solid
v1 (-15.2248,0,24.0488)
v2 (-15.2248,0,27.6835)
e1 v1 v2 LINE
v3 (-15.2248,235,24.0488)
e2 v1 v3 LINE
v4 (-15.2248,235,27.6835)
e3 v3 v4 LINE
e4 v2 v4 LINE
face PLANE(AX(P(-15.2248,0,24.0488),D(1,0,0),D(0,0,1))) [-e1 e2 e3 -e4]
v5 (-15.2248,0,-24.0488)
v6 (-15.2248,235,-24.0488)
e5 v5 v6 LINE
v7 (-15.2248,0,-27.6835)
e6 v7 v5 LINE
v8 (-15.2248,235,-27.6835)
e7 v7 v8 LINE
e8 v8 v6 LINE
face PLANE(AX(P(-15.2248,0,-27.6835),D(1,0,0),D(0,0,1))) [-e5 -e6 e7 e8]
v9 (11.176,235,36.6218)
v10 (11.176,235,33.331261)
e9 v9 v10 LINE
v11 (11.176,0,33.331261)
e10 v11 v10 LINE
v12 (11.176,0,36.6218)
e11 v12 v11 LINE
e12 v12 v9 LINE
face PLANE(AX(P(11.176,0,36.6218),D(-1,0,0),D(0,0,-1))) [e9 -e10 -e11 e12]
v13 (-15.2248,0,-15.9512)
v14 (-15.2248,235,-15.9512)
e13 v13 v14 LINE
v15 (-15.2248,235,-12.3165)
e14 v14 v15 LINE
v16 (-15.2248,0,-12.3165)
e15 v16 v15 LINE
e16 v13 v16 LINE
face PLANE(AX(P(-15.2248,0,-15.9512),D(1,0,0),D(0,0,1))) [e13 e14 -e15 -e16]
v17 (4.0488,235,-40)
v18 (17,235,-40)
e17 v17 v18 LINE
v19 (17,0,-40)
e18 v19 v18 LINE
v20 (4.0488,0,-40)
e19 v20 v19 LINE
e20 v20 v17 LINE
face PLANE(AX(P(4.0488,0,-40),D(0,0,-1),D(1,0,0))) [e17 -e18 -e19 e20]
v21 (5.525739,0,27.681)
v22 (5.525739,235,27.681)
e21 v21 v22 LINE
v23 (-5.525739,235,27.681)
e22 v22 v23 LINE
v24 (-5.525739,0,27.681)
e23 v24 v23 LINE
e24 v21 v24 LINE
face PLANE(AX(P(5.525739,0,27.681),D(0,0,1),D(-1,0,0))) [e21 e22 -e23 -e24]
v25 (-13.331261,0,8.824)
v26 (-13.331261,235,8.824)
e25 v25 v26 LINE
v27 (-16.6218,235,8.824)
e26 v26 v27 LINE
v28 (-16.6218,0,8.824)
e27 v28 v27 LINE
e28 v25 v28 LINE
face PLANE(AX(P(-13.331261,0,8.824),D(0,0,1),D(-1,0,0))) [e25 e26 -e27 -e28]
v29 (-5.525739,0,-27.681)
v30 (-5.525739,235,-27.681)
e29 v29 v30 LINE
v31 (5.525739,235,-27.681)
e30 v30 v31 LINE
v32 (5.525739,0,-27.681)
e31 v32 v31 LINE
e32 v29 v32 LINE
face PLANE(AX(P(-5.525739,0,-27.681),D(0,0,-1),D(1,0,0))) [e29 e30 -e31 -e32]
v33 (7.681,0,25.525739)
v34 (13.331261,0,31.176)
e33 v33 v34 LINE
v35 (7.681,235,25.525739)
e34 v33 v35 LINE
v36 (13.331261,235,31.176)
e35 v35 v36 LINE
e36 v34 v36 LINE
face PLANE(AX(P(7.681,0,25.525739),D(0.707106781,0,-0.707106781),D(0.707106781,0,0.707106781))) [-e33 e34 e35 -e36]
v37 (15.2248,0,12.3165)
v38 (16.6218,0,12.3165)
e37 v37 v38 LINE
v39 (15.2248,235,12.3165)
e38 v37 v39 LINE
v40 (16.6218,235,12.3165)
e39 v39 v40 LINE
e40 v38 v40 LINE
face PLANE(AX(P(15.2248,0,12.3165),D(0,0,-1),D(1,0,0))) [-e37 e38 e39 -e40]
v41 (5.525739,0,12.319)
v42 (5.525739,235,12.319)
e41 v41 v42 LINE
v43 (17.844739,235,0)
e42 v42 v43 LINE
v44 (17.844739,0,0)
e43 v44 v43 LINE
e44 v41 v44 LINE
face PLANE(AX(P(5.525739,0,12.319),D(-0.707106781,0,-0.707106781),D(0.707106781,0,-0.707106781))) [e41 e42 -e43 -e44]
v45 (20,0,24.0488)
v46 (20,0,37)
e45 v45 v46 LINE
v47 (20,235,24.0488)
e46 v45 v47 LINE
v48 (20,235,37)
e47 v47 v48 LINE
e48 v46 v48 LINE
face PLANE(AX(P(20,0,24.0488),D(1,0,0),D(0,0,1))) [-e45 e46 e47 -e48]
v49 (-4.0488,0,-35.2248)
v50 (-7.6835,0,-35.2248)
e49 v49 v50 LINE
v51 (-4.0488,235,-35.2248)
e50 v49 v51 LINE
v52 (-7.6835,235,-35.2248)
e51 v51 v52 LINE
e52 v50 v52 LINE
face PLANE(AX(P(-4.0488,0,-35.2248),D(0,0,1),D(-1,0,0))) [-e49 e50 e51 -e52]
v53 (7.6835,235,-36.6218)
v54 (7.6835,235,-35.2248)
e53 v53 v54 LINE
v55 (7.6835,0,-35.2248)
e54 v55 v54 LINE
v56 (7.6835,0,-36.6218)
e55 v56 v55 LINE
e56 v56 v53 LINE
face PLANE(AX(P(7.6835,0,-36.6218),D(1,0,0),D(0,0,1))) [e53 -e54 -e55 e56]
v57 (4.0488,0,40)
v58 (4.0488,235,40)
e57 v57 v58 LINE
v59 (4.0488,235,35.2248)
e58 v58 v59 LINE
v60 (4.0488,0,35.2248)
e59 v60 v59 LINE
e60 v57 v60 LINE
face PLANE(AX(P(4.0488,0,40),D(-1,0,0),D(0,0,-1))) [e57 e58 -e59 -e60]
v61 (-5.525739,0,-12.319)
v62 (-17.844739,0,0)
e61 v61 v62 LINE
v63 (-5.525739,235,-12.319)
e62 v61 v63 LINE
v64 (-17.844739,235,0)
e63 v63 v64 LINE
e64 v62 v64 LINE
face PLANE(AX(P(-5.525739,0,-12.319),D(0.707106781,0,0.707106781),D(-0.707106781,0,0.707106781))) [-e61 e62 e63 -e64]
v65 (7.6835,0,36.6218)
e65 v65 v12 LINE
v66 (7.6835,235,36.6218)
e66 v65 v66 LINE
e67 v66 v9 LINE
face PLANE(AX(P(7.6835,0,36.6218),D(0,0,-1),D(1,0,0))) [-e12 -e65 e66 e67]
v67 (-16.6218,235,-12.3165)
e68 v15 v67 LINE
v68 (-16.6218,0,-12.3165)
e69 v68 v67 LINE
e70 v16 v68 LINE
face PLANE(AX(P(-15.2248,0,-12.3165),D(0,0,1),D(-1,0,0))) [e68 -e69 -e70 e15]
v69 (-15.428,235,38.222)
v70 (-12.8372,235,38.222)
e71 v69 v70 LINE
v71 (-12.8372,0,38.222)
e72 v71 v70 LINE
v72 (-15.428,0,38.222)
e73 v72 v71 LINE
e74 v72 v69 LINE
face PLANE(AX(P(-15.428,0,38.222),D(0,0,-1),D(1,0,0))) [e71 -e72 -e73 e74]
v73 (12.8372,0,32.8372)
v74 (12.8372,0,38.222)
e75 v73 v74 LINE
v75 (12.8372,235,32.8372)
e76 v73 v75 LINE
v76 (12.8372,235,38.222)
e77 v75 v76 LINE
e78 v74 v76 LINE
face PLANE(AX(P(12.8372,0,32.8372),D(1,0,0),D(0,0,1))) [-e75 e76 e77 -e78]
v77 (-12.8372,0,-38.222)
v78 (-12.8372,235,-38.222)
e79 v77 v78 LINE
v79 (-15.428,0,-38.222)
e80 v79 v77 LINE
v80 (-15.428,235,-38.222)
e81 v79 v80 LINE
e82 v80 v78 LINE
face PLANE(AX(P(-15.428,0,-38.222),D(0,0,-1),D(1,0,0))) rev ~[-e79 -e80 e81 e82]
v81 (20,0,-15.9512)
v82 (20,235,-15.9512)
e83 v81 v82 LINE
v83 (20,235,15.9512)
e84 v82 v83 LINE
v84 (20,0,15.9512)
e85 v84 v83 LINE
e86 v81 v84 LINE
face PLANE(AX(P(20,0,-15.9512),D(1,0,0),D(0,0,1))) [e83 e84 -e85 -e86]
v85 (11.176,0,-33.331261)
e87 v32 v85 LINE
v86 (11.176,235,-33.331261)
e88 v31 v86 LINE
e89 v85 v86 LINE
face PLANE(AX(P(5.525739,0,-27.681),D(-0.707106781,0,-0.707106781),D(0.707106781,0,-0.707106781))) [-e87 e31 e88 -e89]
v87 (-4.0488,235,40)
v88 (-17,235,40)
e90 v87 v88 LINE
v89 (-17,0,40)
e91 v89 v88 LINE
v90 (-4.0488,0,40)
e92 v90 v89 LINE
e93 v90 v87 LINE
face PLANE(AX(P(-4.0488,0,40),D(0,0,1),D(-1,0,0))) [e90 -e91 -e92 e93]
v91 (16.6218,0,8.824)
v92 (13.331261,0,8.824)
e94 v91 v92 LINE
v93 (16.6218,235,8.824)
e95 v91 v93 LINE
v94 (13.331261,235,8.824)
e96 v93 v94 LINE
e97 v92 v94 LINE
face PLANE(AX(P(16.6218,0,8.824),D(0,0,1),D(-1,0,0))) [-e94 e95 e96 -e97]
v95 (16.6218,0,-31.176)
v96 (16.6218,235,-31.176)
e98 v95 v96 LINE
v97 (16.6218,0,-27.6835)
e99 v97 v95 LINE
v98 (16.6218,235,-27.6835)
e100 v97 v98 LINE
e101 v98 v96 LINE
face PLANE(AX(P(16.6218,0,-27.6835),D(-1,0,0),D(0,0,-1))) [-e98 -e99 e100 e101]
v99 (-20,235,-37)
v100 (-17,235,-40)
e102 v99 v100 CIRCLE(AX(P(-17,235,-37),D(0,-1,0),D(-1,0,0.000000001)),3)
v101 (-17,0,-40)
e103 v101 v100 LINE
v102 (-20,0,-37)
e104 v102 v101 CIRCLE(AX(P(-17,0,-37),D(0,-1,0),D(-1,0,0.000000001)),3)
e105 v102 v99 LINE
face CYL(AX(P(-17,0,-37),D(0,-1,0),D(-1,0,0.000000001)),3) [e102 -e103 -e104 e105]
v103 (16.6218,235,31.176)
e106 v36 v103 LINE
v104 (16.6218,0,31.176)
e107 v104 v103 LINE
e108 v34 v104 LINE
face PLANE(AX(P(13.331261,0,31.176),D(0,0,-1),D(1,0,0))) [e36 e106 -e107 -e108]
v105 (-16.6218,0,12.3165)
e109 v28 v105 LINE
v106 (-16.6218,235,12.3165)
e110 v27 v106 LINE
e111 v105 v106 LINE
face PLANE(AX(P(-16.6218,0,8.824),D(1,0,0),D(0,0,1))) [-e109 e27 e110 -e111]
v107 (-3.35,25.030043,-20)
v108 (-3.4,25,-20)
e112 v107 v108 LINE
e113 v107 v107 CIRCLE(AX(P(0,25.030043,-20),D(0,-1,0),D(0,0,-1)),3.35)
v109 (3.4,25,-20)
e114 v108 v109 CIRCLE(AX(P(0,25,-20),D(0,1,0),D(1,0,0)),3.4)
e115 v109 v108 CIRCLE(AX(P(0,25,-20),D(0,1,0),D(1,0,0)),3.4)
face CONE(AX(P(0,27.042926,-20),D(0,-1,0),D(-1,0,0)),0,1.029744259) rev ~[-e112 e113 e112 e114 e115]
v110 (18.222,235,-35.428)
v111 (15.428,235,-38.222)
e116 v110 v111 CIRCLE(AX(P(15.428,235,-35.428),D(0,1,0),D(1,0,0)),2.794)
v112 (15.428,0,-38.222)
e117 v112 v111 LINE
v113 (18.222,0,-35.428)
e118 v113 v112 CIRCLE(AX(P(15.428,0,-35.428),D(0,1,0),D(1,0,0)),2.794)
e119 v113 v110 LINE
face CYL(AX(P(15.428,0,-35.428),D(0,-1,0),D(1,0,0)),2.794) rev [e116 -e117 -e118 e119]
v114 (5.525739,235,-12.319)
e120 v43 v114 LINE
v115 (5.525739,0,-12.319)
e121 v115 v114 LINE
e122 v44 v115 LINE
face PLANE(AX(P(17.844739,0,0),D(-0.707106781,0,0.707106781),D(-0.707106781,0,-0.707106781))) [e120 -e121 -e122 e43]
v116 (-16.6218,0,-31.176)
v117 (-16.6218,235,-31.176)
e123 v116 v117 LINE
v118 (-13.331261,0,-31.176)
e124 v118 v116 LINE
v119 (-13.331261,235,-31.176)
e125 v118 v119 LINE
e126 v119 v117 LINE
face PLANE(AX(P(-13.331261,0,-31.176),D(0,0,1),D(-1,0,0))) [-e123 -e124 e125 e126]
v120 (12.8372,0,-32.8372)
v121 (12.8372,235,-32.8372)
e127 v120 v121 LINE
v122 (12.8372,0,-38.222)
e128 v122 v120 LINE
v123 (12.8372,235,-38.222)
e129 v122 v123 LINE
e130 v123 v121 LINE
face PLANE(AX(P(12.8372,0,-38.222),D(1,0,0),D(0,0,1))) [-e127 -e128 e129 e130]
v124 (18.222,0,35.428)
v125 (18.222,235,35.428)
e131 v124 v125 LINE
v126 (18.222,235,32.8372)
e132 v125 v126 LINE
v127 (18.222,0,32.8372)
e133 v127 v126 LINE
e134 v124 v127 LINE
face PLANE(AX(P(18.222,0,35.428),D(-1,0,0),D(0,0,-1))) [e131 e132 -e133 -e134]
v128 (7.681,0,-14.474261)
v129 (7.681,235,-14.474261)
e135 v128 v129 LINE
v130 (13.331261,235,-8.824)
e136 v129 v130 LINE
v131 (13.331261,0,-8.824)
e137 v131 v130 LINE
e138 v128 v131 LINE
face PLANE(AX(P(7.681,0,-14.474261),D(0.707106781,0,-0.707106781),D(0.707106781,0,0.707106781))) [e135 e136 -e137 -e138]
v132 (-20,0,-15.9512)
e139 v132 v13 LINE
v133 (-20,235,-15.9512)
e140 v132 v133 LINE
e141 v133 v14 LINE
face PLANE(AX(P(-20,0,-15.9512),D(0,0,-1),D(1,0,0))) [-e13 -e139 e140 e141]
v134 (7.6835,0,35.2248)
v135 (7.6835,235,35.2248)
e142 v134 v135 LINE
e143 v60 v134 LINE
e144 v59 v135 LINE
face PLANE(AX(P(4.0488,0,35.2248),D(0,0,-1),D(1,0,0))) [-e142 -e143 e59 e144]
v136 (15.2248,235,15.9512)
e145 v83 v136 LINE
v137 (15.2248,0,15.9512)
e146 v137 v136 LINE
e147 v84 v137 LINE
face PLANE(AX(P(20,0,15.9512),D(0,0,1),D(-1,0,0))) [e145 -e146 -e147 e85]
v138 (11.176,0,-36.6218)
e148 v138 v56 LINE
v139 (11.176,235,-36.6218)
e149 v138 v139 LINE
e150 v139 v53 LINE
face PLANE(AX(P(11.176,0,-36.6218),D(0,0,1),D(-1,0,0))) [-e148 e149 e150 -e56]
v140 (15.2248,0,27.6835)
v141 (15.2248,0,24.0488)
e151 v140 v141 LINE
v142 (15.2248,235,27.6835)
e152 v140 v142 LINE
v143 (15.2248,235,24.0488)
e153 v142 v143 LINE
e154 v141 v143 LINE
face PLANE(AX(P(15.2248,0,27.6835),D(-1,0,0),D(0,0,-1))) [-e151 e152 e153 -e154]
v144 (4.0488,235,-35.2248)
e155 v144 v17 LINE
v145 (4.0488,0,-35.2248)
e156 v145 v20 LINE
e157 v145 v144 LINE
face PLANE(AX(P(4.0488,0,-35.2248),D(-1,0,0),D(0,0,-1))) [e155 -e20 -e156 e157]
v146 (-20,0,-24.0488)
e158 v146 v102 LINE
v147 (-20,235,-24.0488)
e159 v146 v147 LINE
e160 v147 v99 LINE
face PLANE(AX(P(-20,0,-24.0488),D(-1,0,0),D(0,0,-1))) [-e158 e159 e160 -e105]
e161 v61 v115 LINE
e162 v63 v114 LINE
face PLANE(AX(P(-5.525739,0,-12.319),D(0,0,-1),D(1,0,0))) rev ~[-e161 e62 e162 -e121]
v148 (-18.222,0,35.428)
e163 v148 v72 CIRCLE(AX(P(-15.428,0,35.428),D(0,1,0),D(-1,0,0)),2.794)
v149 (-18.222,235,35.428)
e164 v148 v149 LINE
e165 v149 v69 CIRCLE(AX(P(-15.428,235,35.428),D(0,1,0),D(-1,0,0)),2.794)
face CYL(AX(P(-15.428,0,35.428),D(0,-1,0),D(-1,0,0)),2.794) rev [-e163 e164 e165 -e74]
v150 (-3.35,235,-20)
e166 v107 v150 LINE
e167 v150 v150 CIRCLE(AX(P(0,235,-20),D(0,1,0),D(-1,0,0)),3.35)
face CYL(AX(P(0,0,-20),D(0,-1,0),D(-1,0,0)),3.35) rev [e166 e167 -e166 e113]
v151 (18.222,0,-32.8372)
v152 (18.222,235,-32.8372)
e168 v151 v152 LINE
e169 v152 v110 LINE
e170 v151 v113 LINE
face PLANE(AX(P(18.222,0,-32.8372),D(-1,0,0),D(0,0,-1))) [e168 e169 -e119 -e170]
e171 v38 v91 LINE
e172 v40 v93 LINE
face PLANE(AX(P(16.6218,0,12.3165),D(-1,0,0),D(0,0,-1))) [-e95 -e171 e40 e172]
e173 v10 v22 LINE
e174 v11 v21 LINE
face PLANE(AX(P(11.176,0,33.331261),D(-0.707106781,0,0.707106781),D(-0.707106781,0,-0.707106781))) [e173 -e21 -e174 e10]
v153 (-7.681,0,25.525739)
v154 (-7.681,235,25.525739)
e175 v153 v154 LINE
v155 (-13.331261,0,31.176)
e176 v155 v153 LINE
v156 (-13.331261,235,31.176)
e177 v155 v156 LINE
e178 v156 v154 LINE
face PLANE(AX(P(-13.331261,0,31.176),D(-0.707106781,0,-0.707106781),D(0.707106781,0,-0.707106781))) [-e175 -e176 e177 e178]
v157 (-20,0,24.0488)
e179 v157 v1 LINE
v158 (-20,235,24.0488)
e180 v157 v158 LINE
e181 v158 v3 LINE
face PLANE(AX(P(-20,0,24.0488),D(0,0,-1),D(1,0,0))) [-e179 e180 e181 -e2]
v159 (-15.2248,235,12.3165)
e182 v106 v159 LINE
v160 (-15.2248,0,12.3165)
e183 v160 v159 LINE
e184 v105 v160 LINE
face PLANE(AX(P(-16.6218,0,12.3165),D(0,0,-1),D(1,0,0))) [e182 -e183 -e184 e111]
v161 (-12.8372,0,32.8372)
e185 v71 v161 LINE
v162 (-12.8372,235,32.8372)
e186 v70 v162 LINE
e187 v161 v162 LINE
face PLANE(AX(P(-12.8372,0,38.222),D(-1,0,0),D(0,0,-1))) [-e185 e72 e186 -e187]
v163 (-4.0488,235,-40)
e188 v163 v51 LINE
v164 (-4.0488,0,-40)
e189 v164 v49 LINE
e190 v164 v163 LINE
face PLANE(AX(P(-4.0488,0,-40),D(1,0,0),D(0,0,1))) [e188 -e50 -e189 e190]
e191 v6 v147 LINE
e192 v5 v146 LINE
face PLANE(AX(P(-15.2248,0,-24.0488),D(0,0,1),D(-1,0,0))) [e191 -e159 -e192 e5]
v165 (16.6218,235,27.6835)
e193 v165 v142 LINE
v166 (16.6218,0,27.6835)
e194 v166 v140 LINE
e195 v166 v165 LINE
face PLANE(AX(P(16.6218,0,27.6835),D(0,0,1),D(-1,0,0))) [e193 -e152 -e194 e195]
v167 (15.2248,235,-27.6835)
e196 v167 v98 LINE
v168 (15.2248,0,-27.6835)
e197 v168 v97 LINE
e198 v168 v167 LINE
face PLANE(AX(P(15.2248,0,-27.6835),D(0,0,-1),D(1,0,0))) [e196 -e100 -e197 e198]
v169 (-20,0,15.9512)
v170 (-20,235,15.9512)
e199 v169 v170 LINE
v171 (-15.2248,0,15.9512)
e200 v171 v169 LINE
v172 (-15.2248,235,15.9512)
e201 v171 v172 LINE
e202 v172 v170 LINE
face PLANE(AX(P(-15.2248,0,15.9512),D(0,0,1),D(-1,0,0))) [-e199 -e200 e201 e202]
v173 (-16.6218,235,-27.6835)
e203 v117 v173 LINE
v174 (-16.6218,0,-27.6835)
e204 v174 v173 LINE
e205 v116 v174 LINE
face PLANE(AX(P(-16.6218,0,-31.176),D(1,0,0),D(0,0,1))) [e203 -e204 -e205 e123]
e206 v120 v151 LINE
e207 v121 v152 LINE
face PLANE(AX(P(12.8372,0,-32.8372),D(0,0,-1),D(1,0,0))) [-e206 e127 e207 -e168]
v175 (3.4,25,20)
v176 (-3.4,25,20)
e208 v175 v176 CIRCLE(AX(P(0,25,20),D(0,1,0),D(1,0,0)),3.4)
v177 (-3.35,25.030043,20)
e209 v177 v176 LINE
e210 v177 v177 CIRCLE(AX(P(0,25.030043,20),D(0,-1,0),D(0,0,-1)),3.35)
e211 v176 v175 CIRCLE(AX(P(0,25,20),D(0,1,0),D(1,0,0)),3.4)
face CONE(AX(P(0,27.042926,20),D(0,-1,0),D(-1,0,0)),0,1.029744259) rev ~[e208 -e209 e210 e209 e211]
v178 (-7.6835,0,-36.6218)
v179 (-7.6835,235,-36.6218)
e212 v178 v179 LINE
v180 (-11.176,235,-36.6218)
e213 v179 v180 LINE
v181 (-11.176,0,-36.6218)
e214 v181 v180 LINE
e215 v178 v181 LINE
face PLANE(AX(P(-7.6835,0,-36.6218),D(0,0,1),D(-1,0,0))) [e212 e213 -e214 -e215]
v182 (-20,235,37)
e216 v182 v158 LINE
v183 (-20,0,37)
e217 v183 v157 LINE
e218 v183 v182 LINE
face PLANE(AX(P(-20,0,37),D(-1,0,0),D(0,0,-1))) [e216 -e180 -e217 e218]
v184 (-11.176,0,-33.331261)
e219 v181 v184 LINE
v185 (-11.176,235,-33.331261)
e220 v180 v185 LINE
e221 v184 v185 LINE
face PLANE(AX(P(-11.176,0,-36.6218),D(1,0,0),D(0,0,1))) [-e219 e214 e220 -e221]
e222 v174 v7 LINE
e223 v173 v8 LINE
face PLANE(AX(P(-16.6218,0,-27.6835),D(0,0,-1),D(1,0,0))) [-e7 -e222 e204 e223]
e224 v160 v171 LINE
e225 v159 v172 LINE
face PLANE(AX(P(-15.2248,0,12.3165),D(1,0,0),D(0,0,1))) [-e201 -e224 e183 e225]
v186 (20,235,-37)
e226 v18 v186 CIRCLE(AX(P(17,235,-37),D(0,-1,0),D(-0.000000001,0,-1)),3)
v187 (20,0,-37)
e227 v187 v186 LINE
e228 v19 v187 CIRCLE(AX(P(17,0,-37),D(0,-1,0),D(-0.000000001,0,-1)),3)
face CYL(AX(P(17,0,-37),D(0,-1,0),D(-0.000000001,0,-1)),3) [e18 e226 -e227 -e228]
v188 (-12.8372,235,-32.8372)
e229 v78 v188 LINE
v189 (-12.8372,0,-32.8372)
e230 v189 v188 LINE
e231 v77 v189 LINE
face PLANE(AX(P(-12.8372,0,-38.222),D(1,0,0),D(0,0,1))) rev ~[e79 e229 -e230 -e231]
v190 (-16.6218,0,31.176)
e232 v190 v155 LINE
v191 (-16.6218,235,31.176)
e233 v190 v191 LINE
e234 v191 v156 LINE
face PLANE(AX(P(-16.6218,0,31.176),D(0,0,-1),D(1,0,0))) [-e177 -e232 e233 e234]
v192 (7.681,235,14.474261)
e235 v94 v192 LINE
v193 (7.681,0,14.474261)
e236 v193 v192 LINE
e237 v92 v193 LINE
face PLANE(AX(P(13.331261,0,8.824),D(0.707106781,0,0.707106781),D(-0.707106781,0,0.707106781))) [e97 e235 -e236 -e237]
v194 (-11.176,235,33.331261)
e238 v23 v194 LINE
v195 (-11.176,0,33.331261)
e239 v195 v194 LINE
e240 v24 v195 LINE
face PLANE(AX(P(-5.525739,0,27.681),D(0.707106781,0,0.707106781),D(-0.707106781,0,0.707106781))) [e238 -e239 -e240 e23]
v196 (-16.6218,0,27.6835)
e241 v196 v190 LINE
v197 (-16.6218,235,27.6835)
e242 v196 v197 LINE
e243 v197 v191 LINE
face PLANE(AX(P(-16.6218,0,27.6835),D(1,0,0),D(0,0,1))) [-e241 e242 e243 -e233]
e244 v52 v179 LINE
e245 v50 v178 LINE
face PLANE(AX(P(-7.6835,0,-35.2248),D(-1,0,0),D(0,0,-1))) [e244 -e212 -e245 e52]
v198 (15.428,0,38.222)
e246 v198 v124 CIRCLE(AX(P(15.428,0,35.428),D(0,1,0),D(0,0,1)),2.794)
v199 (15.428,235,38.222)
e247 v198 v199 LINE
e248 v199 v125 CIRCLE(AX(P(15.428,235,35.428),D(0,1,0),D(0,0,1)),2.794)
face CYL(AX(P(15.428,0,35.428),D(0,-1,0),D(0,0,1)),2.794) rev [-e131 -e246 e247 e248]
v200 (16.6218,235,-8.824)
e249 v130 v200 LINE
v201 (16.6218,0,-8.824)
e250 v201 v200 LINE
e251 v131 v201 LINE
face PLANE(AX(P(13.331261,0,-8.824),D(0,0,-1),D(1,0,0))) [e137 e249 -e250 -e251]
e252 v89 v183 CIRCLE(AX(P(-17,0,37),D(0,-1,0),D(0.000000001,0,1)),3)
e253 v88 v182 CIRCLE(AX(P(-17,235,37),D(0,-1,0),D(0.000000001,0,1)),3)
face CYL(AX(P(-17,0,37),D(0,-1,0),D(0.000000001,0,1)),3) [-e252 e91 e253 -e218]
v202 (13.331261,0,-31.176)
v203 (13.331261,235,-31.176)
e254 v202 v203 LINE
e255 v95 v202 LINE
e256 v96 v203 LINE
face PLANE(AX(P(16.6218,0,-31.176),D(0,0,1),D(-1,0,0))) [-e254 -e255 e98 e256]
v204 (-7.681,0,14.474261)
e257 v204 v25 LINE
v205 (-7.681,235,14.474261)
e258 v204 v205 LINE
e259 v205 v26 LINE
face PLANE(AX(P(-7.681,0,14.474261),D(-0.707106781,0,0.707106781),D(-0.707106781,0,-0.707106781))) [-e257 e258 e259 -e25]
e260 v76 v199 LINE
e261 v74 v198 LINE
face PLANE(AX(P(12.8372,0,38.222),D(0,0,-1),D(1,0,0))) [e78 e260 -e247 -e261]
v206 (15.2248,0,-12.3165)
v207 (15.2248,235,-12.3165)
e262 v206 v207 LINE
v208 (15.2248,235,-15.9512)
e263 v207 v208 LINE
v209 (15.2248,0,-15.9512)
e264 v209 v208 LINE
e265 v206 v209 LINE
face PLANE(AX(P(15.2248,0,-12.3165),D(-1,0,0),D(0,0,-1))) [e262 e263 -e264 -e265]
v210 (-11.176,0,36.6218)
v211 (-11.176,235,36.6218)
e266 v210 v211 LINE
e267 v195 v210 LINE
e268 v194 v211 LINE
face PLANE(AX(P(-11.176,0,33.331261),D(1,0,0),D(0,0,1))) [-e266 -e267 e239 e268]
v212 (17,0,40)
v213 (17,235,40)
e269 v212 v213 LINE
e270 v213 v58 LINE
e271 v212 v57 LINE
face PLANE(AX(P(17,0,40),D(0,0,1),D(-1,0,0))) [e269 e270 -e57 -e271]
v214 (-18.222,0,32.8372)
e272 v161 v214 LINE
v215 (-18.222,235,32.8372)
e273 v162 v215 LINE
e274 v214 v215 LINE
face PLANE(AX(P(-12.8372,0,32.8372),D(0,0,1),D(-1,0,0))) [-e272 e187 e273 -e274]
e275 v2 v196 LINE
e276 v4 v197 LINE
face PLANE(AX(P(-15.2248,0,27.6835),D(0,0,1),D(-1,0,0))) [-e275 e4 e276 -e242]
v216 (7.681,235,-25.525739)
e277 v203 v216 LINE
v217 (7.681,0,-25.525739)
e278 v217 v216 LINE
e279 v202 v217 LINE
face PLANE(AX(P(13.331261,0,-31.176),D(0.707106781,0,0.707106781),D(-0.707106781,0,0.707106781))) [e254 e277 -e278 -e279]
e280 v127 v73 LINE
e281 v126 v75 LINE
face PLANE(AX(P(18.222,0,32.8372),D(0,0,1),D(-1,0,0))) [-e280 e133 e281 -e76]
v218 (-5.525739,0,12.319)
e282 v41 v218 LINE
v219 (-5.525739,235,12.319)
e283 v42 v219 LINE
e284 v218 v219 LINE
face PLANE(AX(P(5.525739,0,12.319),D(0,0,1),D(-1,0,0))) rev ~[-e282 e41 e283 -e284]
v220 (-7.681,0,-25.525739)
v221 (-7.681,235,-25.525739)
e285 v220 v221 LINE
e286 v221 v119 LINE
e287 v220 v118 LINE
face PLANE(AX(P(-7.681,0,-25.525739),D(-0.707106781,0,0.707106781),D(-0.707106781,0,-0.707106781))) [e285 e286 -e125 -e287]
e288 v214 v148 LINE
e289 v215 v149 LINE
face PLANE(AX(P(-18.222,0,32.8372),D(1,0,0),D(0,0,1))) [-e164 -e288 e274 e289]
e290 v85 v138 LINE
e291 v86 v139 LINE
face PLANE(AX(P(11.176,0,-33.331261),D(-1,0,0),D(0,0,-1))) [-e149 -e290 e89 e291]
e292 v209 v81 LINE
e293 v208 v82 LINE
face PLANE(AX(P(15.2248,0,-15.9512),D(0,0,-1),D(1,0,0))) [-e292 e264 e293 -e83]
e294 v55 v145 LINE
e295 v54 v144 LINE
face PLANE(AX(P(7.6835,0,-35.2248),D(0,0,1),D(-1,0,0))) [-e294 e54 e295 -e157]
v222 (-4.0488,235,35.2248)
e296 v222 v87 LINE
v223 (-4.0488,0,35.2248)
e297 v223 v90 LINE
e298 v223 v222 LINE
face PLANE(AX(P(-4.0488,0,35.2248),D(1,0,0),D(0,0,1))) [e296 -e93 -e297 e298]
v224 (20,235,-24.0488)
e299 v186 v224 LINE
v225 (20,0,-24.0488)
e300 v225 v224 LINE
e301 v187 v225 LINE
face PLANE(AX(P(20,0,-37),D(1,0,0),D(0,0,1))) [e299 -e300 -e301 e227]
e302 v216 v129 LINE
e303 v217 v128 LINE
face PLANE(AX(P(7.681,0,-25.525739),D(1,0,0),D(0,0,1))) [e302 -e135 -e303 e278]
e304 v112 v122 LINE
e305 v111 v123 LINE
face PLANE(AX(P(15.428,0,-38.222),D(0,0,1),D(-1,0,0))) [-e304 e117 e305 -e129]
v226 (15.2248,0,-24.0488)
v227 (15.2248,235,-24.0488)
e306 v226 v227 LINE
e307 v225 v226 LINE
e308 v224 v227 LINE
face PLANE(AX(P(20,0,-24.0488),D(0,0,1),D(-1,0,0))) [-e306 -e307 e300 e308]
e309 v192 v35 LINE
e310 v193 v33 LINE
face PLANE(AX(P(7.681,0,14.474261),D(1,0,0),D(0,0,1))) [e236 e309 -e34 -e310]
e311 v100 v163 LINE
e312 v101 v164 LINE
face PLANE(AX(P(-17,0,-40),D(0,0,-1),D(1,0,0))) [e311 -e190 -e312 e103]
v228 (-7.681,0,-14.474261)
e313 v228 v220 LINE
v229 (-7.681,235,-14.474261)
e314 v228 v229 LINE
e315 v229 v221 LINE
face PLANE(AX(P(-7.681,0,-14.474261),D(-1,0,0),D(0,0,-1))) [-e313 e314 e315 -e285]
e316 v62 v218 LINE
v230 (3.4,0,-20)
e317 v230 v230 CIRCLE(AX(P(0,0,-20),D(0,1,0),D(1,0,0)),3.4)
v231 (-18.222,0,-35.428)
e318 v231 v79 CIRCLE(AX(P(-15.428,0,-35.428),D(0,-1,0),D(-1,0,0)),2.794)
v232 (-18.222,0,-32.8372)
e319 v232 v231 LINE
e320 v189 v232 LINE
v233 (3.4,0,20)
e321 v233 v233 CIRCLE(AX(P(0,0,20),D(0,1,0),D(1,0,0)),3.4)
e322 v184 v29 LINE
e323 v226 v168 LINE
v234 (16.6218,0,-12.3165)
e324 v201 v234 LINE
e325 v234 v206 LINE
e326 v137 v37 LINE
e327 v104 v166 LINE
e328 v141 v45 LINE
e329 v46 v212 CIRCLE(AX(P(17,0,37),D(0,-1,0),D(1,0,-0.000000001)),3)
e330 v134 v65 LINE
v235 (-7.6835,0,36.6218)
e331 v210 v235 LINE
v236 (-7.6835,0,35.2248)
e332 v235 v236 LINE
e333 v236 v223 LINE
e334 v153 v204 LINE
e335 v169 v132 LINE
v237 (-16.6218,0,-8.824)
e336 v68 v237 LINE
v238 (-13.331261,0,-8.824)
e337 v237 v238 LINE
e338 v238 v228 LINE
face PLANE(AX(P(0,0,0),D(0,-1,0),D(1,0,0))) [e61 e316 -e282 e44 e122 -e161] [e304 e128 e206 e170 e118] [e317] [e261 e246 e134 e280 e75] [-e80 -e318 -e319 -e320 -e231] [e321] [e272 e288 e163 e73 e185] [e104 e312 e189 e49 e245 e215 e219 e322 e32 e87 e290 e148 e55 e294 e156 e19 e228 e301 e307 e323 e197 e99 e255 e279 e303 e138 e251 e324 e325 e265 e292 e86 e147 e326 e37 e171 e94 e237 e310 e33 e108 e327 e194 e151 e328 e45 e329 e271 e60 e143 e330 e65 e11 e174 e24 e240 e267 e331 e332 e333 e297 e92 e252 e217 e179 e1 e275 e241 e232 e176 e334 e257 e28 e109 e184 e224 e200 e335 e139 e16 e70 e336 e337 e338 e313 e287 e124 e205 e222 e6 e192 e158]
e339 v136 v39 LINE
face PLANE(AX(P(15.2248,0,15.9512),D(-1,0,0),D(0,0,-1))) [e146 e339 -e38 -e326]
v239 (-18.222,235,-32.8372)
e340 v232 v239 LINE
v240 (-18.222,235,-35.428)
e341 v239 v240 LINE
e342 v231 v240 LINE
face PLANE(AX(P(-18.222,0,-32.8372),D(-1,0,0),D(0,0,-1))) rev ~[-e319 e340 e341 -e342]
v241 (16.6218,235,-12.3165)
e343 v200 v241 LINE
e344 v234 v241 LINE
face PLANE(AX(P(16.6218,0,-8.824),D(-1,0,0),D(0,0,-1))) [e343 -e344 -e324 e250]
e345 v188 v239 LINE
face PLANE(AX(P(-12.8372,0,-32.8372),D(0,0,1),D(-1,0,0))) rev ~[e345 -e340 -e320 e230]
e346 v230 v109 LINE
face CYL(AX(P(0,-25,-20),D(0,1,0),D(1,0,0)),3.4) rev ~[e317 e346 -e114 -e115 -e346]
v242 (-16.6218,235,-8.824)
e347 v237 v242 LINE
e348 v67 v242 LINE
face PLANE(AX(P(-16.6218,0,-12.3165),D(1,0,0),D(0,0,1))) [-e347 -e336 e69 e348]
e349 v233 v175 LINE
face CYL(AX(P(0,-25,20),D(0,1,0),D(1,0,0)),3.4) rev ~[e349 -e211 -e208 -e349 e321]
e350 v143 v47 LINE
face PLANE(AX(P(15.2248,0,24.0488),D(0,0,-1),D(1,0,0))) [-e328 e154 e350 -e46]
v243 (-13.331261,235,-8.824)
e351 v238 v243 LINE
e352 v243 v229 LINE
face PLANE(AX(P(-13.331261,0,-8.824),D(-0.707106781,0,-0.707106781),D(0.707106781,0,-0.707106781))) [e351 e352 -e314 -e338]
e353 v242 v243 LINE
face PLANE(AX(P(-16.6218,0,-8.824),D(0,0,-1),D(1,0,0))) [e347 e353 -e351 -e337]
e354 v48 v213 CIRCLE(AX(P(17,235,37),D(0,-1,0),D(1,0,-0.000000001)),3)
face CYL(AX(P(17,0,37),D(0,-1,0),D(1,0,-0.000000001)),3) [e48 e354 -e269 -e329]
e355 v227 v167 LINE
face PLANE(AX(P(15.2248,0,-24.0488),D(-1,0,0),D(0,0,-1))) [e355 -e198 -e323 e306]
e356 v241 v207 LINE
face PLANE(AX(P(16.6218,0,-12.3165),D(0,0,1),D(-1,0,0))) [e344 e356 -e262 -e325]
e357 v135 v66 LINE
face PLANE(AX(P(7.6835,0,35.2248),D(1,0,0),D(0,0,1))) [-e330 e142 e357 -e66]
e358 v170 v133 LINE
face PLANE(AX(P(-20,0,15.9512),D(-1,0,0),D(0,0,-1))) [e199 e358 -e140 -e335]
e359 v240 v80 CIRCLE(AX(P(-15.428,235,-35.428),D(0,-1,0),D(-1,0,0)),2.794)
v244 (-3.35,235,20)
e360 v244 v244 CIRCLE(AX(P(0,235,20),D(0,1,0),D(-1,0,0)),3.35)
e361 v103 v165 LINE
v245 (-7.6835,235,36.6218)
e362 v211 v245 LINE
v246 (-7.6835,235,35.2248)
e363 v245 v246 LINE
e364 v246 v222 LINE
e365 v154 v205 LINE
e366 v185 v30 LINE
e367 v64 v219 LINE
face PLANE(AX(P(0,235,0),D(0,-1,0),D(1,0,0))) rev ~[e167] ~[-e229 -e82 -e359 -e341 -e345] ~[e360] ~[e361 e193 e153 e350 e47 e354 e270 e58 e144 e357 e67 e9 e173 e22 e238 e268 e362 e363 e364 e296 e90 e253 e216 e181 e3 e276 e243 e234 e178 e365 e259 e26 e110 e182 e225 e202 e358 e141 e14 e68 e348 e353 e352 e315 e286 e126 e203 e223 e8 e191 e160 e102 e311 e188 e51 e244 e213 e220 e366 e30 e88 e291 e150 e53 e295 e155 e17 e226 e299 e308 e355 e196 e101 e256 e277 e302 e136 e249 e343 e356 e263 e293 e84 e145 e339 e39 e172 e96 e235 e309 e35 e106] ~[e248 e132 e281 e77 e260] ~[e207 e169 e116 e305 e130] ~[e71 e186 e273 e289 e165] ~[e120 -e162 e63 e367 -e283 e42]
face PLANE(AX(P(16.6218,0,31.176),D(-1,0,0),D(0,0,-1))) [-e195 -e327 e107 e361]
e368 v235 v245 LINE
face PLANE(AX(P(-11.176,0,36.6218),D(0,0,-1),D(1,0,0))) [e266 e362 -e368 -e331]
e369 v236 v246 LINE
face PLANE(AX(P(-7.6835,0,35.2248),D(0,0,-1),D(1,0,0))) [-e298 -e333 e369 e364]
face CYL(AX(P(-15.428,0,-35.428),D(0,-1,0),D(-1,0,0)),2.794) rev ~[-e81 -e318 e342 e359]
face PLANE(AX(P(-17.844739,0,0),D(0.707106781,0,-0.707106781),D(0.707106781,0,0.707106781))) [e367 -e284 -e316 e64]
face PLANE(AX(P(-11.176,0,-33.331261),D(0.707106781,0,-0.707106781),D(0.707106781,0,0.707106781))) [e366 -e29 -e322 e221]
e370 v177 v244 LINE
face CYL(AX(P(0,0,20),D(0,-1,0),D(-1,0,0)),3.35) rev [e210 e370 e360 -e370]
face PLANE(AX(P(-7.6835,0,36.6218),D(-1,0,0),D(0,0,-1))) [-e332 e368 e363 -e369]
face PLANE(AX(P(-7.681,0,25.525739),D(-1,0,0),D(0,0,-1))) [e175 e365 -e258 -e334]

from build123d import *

# Parameters (mm, degrees)
SKETCH2_R                            = 3.35
F_40_SERIES_TS40_80LM_650037_1_DEPTH = 235
M8X1_25_TAPPED_HOLE1_D               = 6.8
M8X1_25_TAPPED_HOLE1_DEPTH           = 25
M8X1_25_TAPPED_HOLE1_TIP             = 2.042926105


with BuildPart() as part:
    # Sketch2 → 40 series TS40-80LM-650037(1) (new body)
    with BuildSketch(Plane(origin=(0, 0, 0), x_dir=(-1, 0, 0), z_dir=(0, 1, 0))):
        with BuildLine():
            Line((0, -27.681), (-5.525738531, -27.681))
            Line((-5.525738531, -27.681), (-11.176, -33.331261469))
            Line((-11.176, -33.331261469), (-11.176, -36.6218))
            Line((-11.176, -36.6218), (-7.6835, -36.6218))
            Line((-7.6835, -36.6218), (-7.6835, -35.2248))
            Line((-7.6835, -35.2248), (-4.0488, -35.2248))
            Line((-4.0488, -35.2248), (-4.0488, -40))
            Line((-4.0488, -40), (-17, -40))
            ThreePointArc((-17, -40), (-19.121320344, -39.121320344), (-20, -37))
            Line((-20, -37), (-20, -24.0488))
            Line((-20, -24.0488), (-15.2248, -24.0488))
            Line((-15.2248, -24.0488), (-15.2248, -27.6835))
            Line((-15.2248, -27.6835), (-16.6218, -27.6835))
            Line((-16.6218, -27.6835), (-16.6218, -31.176))
            Line((-16.6218, -31.176), (-13.331261469, -31.176))
            Line((-13.331261469, -31.176), (-7.681, -25.525738531))
            Line((-7.681, -25.525738531), (-7.681, -20))
            Line((-7.681, -20), (-7.681, -14.474261469))
            Line((-7.681, -14.474261469), (-13.331261469, -8.824))
            Line((-13.331261469, -8.824), (-16.6218, -8.824))
            Line((-16.6218, -8.824), (-16.6218, -12.3165))
            Line((-16.6218, -12.3165), (-15.2248, -12.3165))
            Line((-15.2248, -12.3165), (-15.2248, -15.9512))
            Line((-15.2248, -15.9512), (-20, -15.9512))
            Line((-20, -15.9512), (-20, 15.9512))
            Line((-20, 15.9512), (-15.2248, 15.9512))
            Line((-15.2248, 15.9512), (-15.2248, 12.3165))
            Line((-15.2248, 12.3165), (-16.6218, 12.3165))
            Line((-16.6218, 12.3165), (-16.6218, 8.824))
            Line((-16.6218, 8.824), (-13.331261469, 8.824))
            Line((-13.331261469, 8.824), (-7.681, 14.474261469))
            Line((-7.681, 14.474261469), (-7.681, 25.525738531))
            Line((-7.681, 25.525738531), (-13.331261469, 31.176))
            Line((-13.331261469, 31.176), (-16.6218, 31.176))
            Line((-16.6218, 31.176), (-16.6218, 27.6835))
            Line((-16.6218, 27.6835), (-15.2248, 27.6835))
            Line((-15.2248, 27.6835), (-15.2248, 24.0488))
            Line((-15.2248, 24.0488), (-20, 24.0488))
            Line((-20, 24.0488), (-20, 37))
            ThreePointArc((-20, 37), (-19.121320344, 39.121320344), (-17, 40))
            Line((-17, 40), (-4.0488, 40))
            Line((-4.0488, 40), (-4.0488, 35.2248))
            Line((-4.0488, 35.2248), (-7.6835, 35.2248))
            Line((-7.6835, 35.2248), (-7.6835, 36.6218))
            Line((-7.6835, 36.6218), (-11.176, 36.6218))
            Line((-11.176, 36.6218), (-11.176, 33.331261469))
            Line((-11.176, 33.331261469), (-5.525738531, 27.681))
            Line((-5.525738531, 27.681), (0, 27.681))
            Line((0, 27.681), (5.525738531, 27.681))
            Line((5.525738531, 27.681), (11.176, 33.331261469))
            Line((11.176, 33.331261469), (11.176, 36.6218))
            Line((11.176, 36.6218), (7.6835, 36.6218))
            Line((7.6835, 36.6218), (7.6835, 35.2248))
            Line((7.6835, 35.2248), (4.0488, 35.2248))
            Line((4.0488, 35.2248), (4.0488, 40))
            Line((4.0488, 40), (17, 40))
            ThreePointArc((17, 40), (19.121320344, 39.121320344), (20, 37))
            Line((20, 37), (20, 24.0488))
            Line((20, 24.0488), (15.2248, 24.0488))
            Line((15.2248, 24.0488), (15.2248, 27.6835))
            Line((15.2248, 27.6835), (16.6218, 27.6835))
            Line((16.6218, 27.6835), (16.6218, 31.176))
            Line((16.6218, 31.176), (13.331261469, 31.176))
            Line((13.331261469, 31.176), (7.681, 25.525738531))
            Line((7.681, 25.525738531), (7.681, 20))
            Line((7.681, 20), (7.681, 14.474261469))
            Line((7.681, 14.474261469), (13.331261469, 8.824))
            Line((13.331261469, 8.824), (16.6218, 8.824))
            Line((16.6218, 8.824), (16.6218, 12.3165))
            Line((16.6218, 12.3165), (15.2248, 12.3165))
            Line((15.2248, 12.3165), (15.2248, 15.9512))
            Line((15.2248, 15.9512), (20, 15.9512))
            Line((20, 15.9512), (20, -15.9512))
            Line((20, -15.9512), (15.2248, -15.9512))
            Line((15.2248, -15.9512), (15.2248, -12.3165))
            Line((15.2248, -12.3165), (16.6218, -12.3165))
            Line((16.6218, -12.3165), (16.6218, -8.824))
            Line((16.6218, -8.824), (13.331261469, -8.824))
            Line((13.331261469, -8.824), (7.681, -14.474261469))
            Line((7.681, -14.474261469), (7.681, -20))
            Line((7.681, -20), (7.681, -25.525738531))
            Line((7.681, -25.525738531), (13.331261469, -31.176))
            Line((13.331261469, -31.176), (16.6218, -31.176))
            Line((16.6218, -31.176), (16.6218, -27.6835))
            Line((16.6218, -27.6835), (15.2248, -27.6835))
            Line((15.2248, -27.6835), (15.2248, -24.0488))
            Line((15.2248, -24.0488), (20, -24.0488))
            Line((20, -24.0488), (20, -37))
            ThreePointArc((20, -37), (19.121320344, -39.121320344), (17, -40))
            Line((17, -40), (4.0488, -40))
            Line((4.0488, -40), (4.0488, -35.2248))
            Line((4.0488, -35.2248), (7.6835, -35.2248))
            Line((7.6835, -35.2248), (7.6835, -36.6218))
            Line((7.6835, -36.6218), (11.176, -36.6218))
            Line((11.176, -36.6218), (11.176, -33.331261469))
            Line((11.176, -33.331261469), (5.525738531, -27.681))
            Line((5.525738531, -27.681), (0, -27.681))
        make_face()
        with Locations((0, -20)):
            Circle(SKETCH2_R, mode=Mode.SUBTRACT)
        with Locations((0, 20)):
            Circle(SKETCH2_R, mode=Mode.SUBTRACT)
        Polygon((-5.525738531, 12.319), (-17.844738531, 0), (-5.525738531, -12.319), (0, -12.319), (5.525738531, -12.319), (17.844738531, 0), (5.525738531, 12.319), (0, 12.319), align=None, mode=Mode.SUBTRACT)
        with BuildLine():
            Line((12.8372, 38.222), (12.8372, 32.8372))
            Line((12.8372, 32.8372), (18.222, 32.8372))
            Line((18.222, 32.8372), (18.222, 35.428))
            ThreePointArc((18.222, 35.428), (17.403656347, 37.403656347), (15.428, 38.222))
            Line((15.428, 38.222), (12.8372, 38.222))
        make_face(mode=Mode.SUBTRACT)
        with BuildLine():
            Line((12.8372, -32.8372), (18.222, -32.8372))
            Line((18.222, -32.8372), (18.222, -35.428))
            ThreePointArc((18.222, -35.428), (17.403656347, -37.403656347), (15.428, -38.222))
            Line((15.428, -38.222), (12.8372, -38.222))
            Line((12.8372, -38.222), (12.8372, -32.8372))
        make_face(mode=Mode.SUBTRACT)
        with BuildLine():
            Line((-12.8372, -38.222), (-12.8372, -32.8372))
            Line((-12.8372, -32.8372), (-18.222, -32.8372))
            Line((-18.222, -32.8372), (-18.222, -35.428))
            ThreePointArc((-18.222, -35.428), (-17.403656347, -37.403656347), (-15.428, -38.222))
            Line((-15.428, -38.222), (-12.8372, -38.222))
        make_face(mode=Mode.SUBTRACT)
        with BuildLine():
            Line((-18.222, 35.428), (-18.222, 32.8372))
            Line((-18.222, 32.8372), (-12.8372, 32.8372))
            Line((-12.8372, 32.8372), (-12.8372, 38.222))
            Line((-12.8372, 38.222), (-15.428, 38.222))
            ThreePointArc((-15.428, 38.222), (-17.403656347, 37.403656347), (-18.222, 35.428))
        make_face(mode=Mode.SUBTRACT)
    extrude(amount=F_40_SERIES_TS40_80LM_650037_1_DEPTH)

    # M8x1.25 Tapped Hole1
    with Locations(Plane(origin=(0, 0, 0), x_dir=(-1, 0, 0), z_dir=(0, -1, 0))):
        with Locations((0, -20), (0, 20)):
            Hole(M8X1_25_TAPPED_HOLE1_D / 2, depth=M8X1_25_TAPPED_HOLE1_DEPTH)
            with Locations((0, 0, -(M8X1_25_TAPPED_HOLE1_DEPTH + M8X1_25_TAPPED_HOLE1_TIP / 2))):  # 118° drill point
                Cone(0, M8X1_25_TAPPED_HOLE1_D / 2, M8X1_25_TAPPED_HOLE1_TIP, mode=Mode.SUBTRACT)


solid = part.part
